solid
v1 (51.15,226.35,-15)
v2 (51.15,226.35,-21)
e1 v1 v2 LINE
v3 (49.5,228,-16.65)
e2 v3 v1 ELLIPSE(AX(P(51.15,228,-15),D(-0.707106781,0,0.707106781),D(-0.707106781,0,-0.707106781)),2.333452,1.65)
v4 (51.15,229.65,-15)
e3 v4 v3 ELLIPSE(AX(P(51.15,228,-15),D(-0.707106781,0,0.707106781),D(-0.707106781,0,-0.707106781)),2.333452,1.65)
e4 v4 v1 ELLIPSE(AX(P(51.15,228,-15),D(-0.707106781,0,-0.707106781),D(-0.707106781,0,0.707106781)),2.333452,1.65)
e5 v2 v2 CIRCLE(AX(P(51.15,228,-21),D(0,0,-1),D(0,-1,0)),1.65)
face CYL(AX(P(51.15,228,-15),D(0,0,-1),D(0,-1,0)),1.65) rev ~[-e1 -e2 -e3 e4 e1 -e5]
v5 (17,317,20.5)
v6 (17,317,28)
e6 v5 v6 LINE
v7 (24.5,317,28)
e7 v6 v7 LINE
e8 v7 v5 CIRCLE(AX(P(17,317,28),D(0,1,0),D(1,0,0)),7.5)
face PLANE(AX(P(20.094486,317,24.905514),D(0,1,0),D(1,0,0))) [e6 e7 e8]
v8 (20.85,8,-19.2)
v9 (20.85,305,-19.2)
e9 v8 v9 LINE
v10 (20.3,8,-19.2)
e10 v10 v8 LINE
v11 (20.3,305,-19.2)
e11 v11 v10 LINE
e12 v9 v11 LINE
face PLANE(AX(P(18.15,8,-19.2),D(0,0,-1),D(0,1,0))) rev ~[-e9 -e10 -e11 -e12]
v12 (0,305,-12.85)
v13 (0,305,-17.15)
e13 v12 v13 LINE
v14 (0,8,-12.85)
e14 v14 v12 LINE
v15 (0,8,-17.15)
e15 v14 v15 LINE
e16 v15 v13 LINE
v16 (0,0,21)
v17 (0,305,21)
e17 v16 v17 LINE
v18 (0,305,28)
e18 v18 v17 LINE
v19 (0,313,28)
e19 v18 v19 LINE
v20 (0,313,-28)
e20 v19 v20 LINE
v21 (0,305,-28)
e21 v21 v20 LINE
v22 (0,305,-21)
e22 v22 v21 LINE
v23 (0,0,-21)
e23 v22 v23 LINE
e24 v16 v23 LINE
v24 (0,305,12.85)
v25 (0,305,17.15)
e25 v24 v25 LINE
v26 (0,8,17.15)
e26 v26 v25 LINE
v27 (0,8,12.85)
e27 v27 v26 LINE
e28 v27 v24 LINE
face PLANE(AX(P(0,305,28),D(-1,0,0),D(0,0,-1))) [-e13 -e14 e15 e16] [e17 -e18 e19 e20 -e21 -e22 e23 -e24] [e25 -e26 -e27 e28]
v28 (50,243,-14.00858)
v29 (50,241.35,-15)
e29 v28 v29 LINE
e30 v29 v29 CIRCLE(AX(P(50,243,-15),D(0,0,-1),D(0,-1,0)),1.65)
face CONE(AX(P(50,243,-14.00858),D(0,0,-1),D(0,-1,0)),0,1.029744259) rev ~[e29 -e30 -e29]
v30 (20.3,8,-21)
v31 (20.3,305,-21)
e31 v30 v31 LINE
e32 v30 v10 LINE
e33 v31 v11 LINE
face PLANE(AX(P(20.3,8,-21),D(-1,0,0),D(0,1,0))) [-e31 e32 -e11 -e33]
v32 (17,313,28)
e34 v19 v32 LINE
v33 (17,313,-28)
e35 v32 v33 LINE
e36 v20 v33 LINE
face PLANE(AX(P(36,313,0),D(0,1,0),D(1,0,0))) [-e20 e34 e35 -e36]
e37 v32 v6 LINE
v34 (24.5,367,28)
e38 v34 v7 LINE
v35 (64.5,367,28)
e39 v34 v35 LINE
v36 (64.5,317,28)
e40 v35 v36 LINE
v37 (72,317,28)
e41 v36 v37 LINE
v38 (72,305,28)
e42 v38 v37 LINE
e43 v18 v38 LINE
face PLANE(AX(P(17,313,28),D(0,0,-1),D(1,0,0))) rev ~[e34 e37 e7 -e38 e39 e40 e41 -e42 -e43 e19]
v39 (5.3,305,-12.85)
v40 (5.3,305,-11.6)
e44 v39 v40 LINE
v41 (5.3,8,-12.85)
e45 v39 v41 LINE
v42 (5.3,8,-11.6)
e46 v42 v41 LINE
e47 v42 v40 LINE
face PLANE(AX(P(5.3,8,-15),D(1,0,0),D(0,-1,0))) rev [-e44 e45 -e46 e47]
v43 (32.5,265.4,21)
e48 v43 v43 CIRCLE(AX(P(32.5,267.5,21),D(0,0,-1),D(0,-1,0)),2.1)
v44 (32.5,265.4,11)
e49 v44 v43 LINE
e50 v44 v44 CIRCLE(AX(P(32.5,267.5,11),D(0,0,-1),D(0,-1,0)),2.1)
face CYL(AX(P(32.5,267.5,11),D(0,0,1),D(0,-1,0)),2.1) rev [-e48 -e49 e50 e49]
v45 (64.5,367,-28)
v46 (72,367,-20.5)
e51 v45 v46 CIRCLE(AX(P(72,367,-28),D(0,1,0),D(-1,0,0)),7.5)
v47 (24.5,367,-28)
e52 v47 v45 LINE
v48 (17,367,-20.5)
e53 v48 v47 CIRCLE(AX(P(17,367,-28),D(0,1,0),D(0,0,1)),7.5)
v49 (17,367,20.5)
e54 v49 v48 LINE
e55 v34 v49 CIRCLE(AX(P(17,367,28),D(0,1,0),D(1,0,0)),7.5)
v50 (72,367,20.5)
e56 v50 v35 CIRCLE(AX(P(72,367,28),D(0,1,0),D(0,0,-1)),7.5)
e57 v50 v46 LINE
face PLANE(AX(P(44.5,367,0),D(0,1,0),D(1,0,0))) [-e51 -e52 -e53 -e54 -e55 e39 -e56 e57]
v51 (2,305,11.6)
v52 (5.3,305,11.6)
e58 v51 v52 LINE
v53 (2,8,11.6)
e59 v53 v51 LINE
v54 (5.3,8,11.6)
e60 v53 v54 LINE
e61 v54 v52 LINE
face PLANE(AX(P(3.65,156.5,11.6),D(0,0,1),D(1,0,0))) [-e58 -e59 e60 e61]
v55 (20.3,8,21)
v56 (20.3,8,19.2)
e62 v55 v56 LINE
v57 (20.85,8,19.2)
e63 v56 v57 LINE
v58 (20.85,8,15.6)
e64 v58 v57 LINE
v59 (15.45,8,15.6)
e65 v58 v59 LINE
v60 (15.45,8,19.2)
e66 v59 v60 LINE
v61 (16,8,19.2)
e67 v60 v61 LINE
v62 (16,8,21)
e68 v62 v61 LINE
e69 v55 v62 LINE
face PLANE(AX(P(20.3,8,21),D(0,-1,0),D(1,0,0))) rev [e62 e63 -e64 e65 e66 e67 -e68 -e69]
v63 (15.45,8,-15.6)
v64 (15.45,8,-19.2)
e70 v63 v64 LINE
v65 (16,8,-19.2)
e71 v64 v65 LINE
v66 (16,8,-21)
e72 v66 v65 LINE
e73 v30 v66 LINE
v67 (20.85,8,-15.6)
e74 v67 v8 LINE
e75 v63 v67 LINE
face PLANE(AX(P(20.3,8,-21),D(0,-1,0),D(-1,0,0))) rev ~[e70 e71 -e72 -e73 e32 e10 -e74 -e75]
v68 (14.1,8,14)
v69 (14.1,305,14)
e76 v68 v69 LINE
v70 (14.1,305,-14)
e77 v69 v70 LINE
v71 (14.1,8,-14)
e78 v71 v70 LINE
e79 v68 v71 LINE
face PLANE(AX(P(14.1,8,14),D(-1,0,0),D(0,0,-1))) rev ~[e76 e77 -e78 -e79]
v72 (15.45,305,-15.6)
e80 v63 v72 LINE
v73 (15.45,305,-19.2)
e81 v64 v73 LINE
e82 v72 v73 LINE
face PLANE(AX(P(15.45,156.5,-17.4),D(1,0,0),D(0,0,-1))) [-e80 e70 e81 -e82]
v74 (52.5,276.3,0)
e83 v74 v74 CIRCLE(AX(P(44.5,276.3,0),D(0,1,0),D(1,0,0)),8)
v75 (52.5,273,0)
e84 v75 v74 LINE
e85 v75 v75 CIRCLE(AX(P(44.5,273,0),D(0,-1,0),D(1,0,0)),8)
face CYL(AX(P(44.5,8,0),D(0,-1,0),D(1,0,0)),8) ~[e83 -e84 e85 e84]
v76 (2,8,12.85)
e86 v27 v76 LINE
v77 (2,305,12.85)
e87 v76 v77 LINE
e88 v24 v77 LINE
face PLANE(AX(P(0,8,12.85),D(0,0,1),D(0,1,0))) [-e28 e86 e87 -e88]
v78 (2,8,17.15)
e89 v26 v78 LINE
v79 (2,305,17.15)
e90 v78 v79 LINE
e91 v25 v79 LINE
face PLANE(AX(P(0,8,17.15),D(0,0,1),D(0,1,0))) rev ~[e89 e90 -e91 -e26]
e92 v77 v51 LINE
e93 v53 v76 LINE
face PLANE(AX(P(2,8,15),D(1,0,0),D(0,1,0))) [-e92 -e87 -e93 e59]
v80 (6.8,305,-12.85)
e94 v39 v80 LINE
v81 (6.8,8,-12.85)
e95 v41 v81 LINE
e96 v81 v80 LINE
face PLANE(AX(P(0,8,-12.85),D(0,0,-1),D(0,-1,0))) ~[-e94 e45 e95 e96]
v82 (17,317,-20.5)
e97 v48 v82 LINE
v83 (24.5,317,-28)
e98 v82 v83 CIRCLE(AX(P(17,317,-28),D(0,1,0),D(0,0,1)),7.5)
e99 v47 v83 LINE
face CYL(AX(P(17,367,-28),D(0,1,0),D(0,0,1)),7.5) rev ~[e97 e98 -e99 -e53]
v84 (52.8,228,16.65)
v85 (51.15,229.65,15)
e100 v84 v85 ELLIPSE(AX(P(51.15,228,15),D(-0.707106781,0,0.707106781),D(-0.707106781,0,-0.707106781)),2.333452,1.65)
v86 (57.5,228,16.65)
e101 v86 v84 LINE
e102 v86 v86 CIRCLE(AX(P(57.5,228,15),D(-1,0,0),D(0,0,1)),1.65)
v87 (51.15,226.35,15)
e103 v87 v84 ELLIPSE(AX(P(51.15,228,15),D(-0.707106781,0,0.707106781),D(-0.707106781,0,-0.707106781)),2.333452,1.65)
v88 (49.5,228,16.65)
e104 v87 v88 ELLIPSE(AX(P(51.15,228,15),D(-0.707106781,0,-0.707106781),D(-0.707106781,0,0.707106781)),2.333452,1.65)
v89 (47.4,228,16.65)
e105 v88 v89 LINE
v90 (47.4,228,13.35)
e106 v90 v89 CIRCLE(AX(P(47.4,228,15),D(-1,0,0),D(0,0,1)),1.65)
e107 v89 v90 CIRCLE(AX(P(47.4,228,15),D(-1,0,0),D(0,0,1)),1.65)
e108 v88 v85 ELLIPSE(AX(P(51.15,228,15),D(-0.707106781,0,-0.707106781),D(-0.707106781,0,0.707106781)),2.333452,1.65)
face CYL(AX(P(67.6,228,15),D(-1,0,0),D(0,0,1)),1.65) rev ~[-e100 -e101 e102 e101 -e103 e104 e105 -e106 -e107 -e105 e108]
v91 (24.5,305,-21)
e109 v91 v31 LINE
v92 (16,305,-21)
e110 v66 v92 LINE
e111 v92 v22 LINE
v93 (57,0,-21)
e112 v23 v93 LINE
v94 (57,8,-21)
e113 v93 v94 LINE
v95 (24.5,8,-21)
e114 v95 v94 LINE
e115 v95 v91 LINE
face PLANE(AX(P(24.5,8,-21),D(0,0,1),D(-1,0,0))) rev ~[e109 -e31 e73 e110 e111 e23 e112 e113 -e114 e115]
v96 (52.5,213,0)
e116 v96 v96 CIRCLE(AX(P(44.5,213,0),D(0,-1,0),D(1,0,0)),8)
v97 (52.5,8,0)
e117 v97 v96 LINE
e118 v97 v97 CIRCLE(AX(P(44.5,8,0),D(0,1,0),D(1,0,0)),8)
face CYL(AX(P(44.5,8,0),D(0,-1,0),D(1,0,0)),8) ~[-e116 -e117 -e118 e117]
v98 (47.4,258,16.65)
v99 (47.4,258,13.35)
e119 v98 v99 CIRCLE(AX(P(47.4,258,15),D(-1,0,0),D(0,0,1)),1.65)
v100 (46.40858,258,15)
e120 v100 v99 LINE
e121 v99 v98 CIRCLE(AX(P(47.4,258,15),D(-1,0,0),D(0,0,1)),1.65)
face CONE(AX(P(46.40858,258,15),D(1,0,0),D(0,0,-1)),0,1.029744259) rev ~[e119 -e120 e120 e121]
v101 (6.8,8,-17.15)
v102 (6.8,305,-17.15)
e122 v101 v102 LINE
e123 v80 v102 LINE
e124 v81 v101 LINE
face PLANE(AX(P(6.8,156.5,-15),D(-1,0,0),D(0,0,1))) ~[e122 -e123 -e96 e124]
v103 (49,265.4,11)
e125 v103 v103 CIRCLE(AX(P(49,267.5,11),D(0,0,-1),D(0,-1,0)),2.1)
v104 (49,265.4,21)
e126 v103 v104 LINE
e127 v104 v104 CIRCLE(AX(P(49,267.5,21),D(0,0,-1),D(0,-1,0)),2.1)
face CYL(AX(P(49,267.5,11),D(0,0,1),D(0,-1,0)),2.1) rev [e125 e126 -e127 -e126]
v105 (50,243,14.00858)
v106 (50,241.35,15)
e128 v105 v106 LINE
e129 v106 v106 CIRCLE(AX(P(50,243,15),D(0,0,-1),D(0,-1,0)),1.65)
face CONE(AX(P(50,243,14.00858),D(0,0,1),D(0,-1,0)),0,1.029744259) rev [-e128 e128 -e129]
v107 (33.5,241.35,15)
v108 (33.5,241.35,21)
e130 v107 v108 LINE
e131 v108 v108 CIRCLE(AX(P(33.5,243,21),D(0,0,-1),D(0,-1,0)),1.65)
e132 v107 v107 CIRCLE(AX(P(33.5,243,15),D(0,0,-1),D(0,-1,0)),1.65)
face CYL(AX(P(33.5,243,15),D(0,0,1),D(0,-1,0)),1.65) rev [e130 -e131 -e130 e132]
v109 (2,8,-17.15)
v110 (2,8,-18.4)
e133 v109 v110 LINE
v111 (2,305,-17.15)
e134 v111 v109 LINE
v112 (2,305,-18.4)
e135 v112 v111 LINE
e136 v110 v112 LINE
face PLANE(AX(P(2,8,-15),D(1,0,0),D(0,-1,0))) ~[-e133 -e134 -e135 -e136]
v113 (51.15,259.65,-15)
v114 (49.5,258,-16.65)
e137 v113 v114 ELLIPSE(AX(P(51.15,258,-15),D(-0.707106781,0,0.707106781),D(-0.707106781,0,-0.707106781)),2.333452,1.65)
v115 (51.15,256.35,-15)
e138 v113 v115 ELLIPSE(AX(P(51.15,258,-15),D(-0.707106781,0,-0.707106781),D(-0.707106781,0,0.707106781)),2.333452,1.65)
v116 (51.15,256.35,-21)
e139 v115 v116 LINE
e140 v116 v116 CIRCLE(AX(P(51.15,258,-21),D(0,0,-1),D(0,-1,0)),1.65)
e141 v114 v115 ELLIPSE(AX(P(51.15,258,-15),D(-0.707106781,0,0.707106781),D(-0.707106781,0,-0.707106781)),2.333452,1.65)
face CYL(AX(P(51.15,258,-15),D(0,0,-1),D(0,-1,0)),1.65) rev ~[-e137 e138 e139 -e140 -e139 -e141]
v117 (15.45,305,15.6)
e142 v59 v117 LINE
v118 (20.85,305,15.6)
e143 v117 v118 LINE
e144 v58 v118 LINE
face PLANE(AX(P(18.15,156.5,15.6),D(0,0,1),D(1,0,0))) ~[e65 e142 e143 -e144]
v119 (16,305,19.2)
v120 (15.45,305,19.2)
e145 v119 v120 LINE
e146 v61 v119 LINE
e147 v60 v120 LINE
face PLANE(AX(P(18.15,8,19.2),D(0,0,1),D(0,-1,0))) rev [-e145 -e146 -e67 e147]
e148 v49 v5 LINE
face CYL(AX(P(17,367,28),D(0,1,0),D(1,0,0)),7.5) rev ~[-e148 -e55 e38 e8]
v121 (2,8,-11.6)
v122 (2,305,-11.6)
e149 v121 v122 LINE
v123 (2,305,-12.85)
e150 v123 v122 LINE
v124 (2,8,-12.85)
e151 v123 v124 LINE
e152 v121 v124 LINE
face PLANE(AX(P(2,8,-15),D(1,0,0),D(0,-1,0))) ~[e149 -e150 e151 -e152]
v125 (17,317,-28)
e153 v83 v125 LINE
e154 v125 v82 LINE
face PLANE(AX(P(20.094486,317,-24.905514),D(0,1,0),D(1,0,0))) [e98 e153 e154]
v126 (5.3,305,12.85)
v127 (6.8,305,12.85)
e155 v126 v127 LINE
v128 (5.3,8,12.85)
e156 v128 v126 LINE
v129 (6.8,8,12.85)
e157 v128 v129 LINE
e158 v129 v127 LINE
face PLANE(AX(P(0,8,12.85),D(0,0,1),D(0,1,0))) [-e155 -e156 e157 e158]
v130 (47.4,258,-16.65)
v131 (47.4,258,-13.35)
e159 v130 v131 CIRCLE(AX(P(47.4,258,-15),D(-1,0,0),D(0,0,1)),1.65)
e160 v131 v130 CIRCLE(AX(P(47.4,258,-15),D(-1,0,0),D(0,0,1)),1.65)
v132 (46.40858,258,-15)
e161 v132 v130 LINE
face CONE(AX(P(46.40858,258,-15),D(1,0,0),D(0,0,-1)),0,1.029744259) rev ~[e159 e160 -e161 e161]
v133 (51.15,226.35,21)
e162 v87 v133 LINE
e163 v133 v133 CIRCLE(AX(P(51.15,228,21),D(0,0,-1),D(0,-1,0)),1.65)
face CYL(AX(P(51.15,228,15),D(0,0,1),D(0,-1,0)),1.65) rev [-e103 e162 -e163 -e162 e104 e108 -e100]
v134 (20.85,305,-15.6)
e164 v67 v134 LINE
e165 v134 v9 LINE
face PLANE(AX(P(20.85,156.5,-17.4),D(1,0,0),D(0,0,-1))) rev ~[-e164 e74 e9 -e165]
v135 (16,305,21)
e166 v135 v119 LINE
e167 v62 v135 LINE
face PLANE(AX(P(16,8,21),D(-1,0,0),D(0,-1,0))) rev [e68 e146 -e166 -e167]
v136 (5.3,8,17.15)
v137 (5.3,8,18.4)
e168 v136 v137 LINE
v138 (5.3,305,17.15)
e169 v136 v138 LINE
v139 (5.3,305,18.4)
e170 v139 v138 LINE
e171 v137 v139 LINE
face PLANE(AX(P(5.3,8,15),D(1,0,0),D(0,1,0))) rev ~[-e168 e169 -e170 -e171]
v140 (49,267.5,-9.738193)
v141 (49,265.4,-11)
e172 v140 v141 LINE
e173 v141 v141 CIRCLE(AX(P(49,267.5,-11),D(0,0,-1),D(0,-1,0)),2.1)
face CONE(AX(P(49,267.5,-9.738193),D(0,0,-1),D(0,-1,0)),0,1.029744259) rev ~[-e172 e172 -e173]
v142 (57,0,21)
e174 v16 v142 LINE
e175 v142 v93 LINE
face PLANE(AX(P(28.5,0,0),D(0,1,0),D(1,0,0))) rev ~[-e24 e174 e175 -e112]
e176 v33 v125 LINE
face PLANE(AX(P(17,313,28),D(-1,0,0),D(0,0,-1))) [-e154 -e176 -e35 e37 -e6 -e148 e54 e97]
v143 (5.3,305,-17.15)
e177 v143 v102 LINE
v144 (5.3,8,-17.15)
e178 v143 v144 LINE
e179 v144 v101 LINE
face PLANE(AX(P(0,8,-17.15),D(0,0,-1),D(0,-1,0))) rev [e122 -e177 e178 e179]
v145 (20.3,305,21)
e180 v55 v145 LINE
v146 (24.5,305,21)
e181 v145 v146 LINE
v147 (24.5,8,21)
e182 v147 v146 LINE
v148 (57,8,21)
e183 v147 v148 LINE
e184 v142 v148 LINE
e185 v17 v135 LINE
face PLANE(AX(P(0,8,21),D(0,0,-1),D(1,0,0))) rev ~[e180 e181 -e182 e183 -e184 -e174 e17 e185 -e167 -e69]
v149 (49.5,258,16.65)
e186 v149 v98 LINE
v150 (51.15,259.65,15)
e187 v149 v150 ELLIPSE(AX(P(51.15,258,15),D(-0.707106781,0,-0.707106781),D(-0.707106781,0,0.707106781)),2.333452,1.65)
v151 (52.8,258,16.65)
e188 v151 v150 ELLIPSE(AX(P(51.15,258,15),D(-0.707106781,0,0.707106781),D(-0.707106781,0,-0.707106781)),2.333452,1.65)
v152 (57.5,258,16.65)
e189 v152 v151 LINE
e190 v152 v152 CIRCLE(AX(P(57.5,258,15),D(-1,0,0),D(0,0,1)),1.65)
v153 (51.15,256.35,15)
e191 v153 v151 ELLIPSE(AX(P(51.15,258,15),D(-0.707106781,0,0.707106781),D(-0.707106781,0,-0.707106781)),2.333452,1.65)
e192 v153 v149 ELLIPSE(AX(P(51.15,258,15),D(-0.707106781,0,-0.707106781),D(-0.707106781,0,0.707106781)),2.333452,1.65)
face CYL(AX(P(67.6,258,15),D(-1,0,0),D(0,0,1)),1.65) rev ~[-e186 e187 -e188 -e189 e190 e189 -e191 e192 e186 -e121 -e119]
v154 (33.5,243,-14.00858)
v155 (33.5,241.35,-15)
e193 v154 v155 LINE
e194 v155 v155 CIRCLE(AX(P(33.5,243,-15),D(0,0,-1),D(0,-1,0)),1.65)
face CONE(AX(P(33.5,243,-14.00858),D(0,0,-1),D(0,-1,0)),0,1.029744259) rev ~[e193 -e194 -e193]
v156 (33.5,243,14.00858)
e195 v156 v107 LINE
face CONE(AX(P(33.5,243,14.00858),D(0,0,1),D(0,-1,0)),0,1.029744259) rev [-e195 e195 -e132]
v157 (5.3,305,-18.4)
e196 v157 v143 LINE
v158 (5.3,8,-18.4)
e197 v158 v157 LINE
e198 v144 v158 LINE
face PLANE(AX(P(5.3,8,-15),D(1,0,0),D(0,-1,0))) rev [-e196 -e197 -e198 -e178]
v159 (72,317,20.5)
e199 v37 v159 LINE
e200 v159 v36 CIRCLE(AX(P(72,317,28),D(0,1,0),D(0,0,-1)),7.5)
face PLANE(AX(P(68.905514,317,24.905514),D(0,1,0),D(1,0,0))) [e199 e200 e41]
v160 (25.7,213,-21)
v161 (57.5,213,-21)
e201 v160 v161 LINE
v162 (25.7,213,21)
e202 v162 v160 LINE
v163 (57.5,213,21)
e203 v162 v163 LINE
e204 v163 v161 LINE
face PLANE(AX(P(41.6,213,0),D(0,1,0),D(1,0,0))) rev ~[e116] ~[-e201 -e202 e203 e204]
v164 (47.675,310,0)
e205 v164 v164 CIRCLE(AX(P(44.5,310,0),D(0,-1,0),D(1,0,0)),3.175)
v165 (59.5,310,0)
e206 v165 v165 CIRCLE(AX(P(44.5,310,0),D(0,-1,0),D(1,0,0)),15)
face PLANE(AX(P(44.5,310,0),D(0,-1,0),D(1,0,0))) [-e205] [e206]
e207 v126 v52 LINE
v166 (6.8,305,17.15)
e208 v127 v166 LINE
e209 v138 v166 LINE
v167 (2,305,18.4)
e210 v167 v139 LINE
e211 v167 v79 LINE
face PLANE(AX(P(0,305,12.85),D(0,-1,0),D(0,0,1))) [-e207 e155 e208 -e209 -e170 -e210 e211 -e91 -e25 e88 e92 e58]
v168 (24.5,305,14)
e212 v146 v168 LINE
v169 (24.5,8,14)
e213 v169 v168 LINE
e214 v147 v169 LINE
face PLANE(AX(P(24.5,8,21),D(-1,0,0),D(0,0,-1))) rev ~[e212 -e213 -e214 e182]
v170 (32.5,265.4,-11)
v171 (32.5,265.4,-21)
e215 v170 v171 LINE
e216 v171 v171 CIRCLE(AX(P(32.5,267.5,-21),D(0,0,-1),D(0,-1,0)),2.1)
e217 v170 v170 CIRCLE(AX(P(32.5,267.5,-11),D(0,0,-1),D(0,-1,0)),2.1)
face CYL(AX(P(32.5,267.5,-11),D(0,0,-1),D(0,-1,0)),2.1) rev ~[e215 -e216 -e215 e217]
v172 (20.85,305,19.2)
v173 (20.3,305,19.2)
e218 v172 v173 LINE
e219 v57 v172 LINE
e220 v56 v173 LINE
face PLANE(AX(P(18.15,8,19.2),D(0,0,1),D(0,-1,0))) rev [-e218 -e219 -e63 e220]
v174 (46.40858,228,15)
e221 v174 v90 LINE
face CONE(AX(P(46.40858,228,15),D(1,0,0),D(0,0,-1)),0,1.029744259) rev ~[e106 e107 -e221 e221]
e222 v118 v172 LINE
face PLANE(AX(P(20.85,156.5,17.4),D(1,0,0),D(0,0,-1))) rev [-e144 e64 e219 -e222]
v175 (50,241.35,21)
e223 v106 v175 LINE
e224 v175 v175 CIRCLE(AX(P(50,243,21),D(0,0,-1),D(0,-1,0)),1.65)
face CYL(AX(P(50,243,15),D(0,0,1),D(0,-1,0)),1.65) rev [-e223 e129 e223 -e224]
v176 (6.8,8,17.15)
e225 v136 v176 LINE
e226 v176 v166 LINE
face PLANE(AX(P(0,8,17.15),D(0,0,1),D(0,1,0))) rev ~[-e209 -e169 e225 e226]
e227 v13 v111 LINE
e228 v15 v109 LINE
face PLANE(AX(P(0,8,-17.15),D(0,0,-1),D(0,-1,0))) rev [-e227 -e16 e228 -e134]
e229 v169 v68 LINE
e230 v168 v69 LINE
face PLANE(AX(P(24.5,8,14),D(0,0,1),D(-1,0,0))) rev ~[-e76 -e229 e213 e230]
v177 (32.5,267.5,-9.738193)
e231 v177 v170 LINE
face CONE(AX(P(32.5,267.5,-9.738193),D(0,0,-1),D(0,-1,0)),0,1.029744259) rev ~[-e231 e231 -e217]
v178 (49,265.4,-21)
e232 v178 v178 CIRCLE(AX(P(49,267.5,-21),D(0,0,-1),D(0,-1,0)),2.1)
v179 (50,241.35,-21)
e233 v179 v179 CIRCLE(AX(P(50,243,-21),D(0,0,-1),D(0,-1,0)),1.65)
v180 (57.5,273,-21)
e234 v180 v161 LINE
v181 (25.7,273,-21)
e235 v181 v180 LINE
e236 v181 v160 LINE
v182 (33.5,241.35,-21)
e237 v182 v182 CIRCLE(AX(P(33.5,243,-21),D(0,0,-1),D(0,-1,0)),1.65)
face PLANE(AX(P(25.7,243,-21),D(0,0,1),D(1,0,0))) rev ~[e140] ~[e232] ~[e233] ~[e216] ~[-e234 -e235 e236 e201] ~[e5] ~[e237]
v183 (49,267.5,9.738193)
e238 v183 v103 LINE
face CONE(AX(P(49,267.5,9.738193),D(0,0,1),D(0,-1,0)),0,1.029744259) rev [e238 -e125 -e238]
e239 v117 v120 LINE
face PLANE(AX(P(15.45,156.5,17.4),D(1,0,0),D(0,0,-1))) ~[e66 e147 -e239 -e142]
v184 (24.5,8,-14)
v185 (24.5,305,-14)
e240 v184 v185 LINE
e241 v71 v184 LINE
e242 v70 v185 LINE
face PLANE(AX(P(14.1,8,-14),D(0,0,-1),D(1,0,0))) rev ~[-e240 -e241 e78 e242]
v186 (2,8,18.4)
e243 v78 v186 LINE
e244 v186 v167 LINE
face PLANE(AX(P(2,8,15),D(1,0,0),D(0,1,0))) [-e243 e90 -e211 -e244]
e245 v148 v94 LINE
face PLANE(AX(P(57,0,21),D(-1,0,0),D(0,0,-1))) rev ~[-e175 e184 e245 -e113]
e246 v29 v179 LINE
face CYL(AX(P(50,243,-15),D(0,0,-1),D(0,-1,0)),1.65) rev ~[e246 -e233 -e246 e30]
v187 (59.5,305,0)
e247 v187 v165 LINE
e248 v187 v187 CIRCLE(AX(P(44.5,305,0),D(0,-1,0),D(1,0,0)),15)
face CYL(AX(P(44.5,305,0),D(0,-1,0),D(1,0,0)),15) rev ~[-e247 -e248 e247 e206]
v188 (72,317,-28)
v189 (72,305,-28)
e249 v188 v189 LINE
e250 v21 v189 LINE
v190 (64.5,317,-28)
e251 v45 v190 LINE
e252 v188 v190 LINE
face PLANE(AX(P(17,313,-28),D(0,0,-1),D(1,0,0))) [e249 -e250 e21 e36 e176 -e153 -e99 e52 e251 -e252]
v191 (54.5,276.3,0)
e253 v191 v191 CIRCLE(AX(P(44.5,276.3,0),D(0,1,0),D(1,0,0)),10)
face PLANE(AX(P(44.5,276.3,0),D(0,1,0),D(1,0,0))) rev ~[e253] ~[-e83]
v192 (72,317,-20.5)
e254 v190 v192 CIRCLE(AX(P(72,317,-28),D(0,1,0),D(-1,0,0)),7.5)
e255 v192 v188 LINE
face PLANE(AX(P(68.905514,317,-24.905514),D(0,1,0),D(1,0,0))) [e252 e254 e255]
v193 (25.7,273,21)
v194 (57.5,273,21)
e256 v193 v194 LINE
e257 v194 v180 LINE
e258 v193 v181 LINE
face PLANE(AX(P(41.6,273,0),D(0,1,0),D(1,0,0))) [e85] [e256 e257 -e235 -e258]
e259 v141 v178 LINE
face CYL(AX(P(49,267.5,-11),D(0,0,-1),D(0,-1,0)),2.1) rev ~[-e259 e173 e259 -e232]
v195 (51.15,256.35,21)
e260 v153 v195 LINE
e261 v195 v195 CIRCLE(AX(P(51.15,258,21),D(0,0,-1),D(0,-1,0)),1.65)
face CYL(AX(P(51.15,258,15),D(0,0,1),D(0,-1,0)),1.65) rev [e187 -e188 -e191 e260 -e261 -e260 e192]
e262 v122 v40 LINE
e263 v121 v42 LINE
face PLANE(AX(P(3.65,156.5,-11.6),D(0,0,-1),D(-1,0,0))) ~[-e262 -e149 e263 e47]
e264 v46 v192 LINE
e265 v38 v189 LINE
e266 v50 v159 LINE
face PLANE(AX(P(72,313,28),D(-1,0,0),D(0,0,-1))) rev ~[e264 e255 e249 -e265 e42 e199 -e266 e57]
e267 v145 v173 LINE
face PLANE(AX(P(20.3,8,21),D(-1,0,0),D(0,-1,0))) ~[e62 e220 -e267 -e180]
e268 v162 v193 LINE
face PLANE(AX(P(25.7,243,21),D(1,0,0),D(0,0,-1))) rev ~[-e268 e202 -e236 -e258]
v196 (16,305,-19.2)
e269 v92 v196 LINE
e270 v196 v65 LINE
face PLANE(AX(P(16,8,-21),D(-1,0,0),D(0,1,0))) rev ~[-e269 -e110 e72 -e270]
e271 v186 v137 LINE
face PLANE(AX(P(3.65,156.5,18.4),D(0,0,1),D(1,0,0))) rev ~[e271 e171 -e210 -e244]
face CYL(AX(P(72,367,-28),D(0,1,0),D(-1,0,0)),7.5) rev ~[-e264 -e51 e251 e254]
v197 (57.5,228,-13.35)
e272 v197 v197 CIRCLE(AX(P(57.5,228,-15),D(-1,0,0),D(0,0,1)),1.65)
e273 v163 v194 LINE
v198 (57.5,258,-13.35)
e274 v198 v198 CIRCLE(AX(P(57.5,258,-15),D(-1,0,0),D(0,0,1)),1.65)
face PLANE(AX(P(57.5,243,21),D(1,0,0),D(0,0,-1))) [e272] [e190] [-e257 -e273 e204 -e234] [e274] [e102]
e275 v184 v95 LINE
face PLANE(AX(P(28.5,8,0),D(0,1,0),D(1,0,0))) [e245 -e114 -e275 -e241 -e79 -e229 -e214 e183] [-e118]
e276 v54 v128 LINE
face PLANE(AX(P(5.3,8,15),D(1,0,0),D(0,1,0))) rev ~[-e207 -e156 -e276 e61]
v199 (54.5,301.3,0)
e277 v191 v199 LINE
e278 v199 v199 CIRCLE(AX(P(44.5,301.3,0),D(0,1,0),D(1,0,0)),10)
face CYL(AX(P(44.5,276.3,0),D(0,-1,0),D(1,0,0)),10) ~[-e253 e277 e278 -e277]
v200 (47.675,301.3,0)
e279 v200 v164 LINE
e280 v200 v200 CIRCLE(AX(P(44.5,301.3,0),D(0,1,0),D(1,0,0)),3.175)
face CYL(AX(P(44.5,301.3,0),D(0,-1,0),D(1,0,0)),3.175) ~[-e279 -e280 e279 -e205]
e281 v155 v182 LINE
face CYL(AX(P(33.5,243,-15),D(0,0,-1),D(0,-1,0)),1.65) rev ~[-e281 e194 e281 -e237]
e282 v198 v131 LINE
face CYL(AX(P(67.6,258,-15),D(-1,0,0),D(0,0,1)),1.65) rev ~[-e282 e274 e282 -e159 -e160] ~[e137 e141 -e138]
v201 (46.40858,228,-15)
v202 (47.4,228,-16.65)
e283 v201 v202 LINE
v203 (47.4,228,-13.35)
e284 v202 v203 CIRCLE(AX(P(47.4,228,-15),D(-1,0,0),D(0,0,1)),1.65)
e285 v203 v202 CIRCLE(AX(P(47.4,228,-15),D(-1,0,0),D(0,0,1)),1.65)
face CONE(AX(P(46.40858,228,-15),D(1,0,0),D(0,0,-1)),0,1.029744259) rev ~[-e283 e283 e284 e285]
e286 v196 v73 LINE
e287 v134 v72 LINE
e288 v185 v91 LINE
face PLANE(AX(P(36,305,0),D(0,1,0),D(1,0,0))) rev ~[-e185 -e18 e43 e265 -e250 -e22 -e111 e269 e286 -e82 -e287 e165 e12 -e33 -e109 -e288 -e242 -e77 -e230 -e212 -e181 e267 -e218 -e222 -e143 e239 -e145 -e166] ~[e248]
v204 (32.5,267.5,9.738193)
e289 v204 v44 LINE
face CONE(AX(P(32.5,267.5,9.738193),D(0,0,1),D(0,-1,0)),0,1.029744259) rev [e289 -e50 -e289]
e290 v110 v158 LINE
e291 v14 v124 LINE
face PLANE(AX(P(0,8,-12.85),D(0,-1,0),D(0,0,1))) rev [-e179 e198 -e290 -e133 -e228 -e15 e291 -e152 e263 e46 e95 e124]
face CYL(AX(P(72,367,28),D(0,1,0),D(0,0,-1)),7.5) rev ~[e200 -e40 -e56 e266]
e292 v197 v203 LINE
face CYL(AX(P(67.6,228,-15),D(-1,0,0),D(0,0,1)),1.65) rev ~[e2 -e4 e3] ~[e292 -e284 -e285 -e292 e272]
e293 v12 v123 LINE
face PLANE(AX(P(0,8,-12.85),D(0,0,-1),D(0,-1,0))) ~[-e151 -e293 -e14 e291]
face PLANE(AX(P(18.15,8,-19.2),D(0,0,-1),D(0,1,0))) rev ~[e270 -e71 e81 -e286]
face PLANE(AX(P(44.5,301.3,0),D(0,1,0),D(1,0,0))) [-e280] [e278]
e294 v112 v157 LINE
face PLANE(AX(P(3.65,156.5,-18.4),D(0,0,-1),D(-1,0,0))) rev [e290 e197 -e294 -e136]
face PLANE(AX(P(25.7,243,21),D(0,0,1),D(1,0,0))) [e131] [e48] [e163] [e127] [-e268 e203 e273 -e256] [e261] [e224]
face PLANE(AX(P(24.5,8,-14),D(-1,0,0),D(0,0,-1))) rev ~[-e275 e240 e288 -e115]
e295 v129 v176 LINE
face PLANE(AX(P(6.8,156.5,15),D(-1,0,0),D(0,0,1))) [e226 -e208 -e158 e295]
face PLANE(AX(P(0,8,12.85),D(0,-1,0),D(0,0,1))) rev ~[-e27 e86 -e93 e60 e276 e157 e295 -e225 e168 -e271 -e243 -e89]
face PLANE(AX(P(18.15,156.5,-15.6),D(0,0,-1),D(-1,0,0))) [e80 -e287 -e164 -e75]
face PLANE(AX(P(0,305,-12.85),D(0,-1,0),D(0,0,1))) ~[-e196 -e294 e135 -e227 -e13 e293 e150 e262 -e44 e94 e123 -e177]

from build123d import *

# Parameters (mm, degrees)
SKETCH1_W                      = 57
SKETCH1_H                      = 42
BOSS_EXTRUDE1_DEPTH            = 8
BOSS_EXTRUDE2_DEPTH            = 297
SKETCH3_W                      = 72
SKETCH3_H                      = 56
BOSS_EXTRUDE3_DEPTH            = 8
SKETCH4_W                      = 55
SKETCH4_H                      = 56
BOSS_EXTRUDE4_DEPTH            = 54
CUT_EXTRUDE1_DEPTH             = 50
SKETCH6_R                      = 8
BOSS_EXTRUDE5_DEPTH            = 268.3
SKETCH7_W                      = 31.8
SKETCH7_H                      = 42
BOSS_EXTRUDE6_DEPTH            = 30
SKETCH8_R                      = 10
BOSS_EXTRUDE7_DEPTH            = 25
SKETCH9_R                      = 15
CUT_EXTRUDE2_DEPTH             = 5
BOSS_EXTRUDE8_REACH            = 67.7
SKETCH10_R                     = 3.175
SKETCH11_W                     = 4.3
SKETCH11_H                     = 297
CUT_EXTRUDE3_DEPTH             = 5.4
SKETCH12_W                     = 3.6
SKETCH12_H                     = 297
CUT_EXTRUDE4_DEPTH             = 2.7
SKETCH13_W                     = 4.3
SKETCH13_H                     = 297
CUT_EXTRUDE5_DEPTH             = 6.8
SKETCH14_W                     = 3.3
SKETCH14_H                     = 297
CUT_EXTRUDE6_DEPTH             = 3.4
M4X0_7_TAPPED_HOLE1_D          = 3.3
M4X0_7_TAPPED_HOLE1_DEPTH      = 10.1
M4X0_7_TAPPED_HOLE1_TIP        = 0.991420021
M4X0_7_TAPPED_HOLE2_AT_2_COUNT = 2
M4X0_7_TAPPED_HOLE2_AT_2_PITCH = 30
M4X0_7_TAPPED_HOLE2_AT_3_COUNT = 2
M4X0_7_TAPPED_HOLE2_AT_3_PITCH = 15.044018745
M4X0_7_TAPPED_HOLE2_AT_4_COUNT = 2
M4X0_7_TAPPED_HOLE2_AT_4_PITCH = 23.162955338
M5X0_8_TAPPED_HOLE1_AT_2_COUNT = 2
M5X0_8_TAPPED_HOLE1_AT_2_PITCH = 16.5


with BuildPart() as part:
    # Sketch1 → Boss-Extrude1 (new body)
    with BuildSketch(Plane(origin=(0, 0, 0), x_dir=(1, 0, 0), z_dir=(0, 1, 0))):
        with Locations((28.5, 0)):
            Rectangle(SKETCH1_W, SKETCH1_H)
    extrude(amount=BOSS_EXTRUDE1_DEPTH)

    # Sketch2 → Boss-Extrude2 (add)
    with BuildSketch(Plane(origin=(0, 8, 0), x_dir=(1, 0, 0), z_dir=(0, 1, 0))):
        Polygon((0, 21), (0, -21), (24.5, -21), (24.5, -14), (14.1, -14), (14.1, 14), (24.5, 14), (24.5, 21), align=None)
    extrude(amount=BOSS_EXTRUDE2_DEPTH)

    # Sketch3 → Boss-Extrude3 (add)
    with BuildSketch(Plane(origin=(0, 305, 0), x_dir=(1, 0, 0), z_dir=(0, 1, 0))):
        with Locations((36, 0)):
            Rectangle(SKETCH3_W, SKETCH3_H)
    extrude(amount=BOSS_EXTRUDE3_DEPTH)

    # Sketch4 → Boss-Extrude4 (add)
    with BuildSketch(Plane(origin=(0, 313, 0), x_dir=(1, 0, 0), z_dir=(0, 1, 0))):
        with Locations((44.5, 0)):
            Rectangle(SKETCH4_W, SKETCH4_H)
    extrude(amount=BOSS_EXTRUDE4_DEPTH)

    # Sketch5 → Cut-Extrude1 (cut)
    with BuildSketch(Plane(origin=(0, 367, 0), x_dir=(1, 0, 0), z_dir=(0, 1, 0))):
        with BuildLine():
            Line((17, 28), (17, 20.5))
            ThreePointArc((17, 20.5), (22.303300859, 22.696699141), (24.5, 28))
            Line((24.5, 28), (17, 28))
        make_face()
        with BuildLine():
            Line((72, 28), (64.5, 28))
            ThreePointArc((64.5, 28), (66.696699141, 22.696699141), (72, 20.5))
            Line((72, 20.5), (72, 28))
        make_face()
        with BuildLine():
            Line((72, -28), (72, -20.5))
            ThreePointArc((72, -20.5), (66.696699141, -22.696699141), (64.5, -28))
            Line((64.5, -28), (72, -28))
        make_face()
        with BuildLine():
            Line((17, -28), (24.5, -28))
            ThreePointArc((24.5, -28), (22.303300859, -22.696699141), (17, -20.5))
            Line((17, -20.5), (17, -28))
        make_face()
    extrude(amount=-CUT_EXTRUDE1_DEPTH, mode=Mode.SUBTRACT)

    # Sketch6 → Boss-Extrude5 (add)
    with BuildSketch(Plane(origin=(0, 8, 0), x_dir=(1, 0, 0), z_dir=(0, 1, 0))):
        with Locations((44.5, 0)):
            Circle(SKETCH6_R)
    extrude(amount=BOSS_EXTRUDE5_DEPTH)

    # Sketch7 → Boss-Extrude6 (add, symmetric)
    with BuildSketch(Plane(origin=(0, 243, 0), x_dir=(1, 0, 0), z_dir=(0, 1, 0))):
        with Locations((41.6, 0)):
            Rectangle(SKETCH7_W, SKETCH7_H)
    extrude(amount=BOSS_EXTRUDE6_DEPTH, both=True)

    # Sketch8 → Boss-Extrude7 (add)
    with BuildSketch(Plane(origin=(0, 276.3, 0), x_dir=(1, 0, 0), z_dir=(0, 1, 0))):
        with Locations((44.5, 0)):
            Circle(SKETCH8_R)
    extrude(amount=BOSS_EXTRUDE7_DEPTH)

    # Sketch9 → Cut-Extrude2 (cut)
    with BuildSketch(Plane.XZ.offset(-305)):
        with Locations((44.5, 0)):
            Circle(SKETCH9_R)
    extrude(amount=-CUT_EXTRUDE2_DEPTH, mode=Mode.SUBTRACT)

    # Sketch10 → Boss-Extrude8 (add, up to next)
    with BuildSketch(Plane(origin=(0, 301.3, 0), x_dir=(1, 0, 0), z_dir=(0, 1, 0)), mode=Mode.PRIVATE) as boss_extrude8_sk1:
        with Locations((44.5, 0)):
            Circle(SKETCH10_R)
    boss_extrude8_tool1 = extrude(boss_extrude8_sk1.sketch, amount=BOSS_EXTRUDE8_REACH, mode=Mode.PRIVATE) - part.part
    add(boss_extrude8_tool1.solids().sort_by_distance((44.5, 301.3, 0))[0])

    # Sketch11 → Cut-Extrude3 (cut)
    with BuildSketch(Plane(origin=(0, 0, -21), x_dir=(-1, 0, 0), z_dir=(0, 0, -1))):
        with Locations((-18.15, 156.5)):
            Rectangle(SKETCH11_W, SKETCH11_H)
    cut_extrude3 = extrude(amount=-CUT_EXTRUDE3_DEPTH, mode=Mode.SUBTRACT)

    # Sketch12 → Cut-Extrude4 (cut, symmetric)
    with BuildSketch(Plane(origin=(18.15, 0, 0), x_dir=(0, 0, -1), z_dir=(1, 0, 0))):
        with Locations((17.4, 156.5)):
            Rectangle(SKETCH12_W, SKETCH12_H)
    cut_extrude4 = extrude(amount=CUT_EXTRUDE4_DEPTH, both=True, mode=Mode.SUBTRACT)

    # Mirror1: Cut-Extrude3, Cut-Extrude4 across plane
    add(cut_extrude3.mirror(Plane.XY), mode=Mode.SUBTRACT)
    add(cut_extrude4.mirror(Plane.XY), mode=Mode.SUBTRACT)

    # Sketch13 → Cut-Extrude5 (cut)
    with BuildSketch(Plane.ZY):
        with Locations((15, 156.5)):
            Rectangle(SKETCH13_W, SKETCH13_H)
    cut_extrude5 = extrude(amount=-CUT_EXTRUDE5_DEPTH, mode=Mode.SUBTRACT)

    # Sketch14 → Cut-Extrude6 (cut, symmetric)
    with BuildSketch(Plane.XY.offset(15)):
        with Locations((3.65, 156.5)):
            Rectangle(SKETCH14_W, SKETCH14_H)
    cut_extrude6 = extrude(amount=CUT_EXTRUDE6_DEPTH, both=True, mode=Mode.SUBTRACT)

    # Mirror2: Cut-Extrude5, Cut-Extrude6 across plane
    add(cut_extrude5.mirror(Plane.XY), mode=Mode.SUBTRACT)
    add(cut_extrude6.mirror(Plane.XY), mode=Mode.SUBTRACT)

    # M4x0.7 Tapped Hole1
    with Locations(Plane(origin=(57.5, 0, 0), x_dir=(0, 0, -1), z_dir=(1, 0, 0))):
        with Locations((-15, 258), (15, 258), (15, 228), (-15, 228)):
            Hole(M4X0_7_TAPPED_HOLE1_D / 2, depth=M4X0_7_TAPPED_HOLE1_DEPTH)
            with Locations((0, 0, -(M4X0_7_TAPPED_HOLE1_DEPTH + M4X0_7_TAPPED_HOLE1_TIP / 2))):  # 118° drill point
                Cone(0, M4X0_7_TAPPED_HOLE1_D / 2, M4X0_7_TAPPED_HOLE1_TIP, mode=Mode.SUBTRACT)

    # Sketch23 → M4x0.7 Tapped Hole2 (revolve, cut)
    with BuildSketch(Plane(origin=(51.15, 228, 21), x_dir=(0, -1, 0), z_dir=(1, 0, 0))):
        Polygon((0, 0), (0, 6.991420021), (1.65, 6), (1.65, 0), align=None)
    m4x0_7_tapped_hole2 = revolve(axis=Axis((51.15, 228, 27.35), (0, 0, -1)), mode=Mode.SUBTRACT)

    # M4x0.7 Tapped Hole2 at 2: M4x0.7 Tapped Hole2 ×2
    with Locations(*[(0, i * M4X0_7_TAPPED_HOLE2_AT_2_PITCH, 0) for i in range(1, M4X0_7_TAPPED_HOLE2_AT_2_COUNT)]):
        add(m4x0_7_tapped_hole2, mode=Mode.SUBTRACT)

    # M4x0.7 Tapped Hole2 at 3: M4x0.7 Tapped Hole2 ×2
    with Locations(*[Vector(-0.07644234, 0.997074004, 0) * (i * M4X0_7_TAPPED_HOLE2_AT_3_PITCH) for i in range(1, M4X0_7_TAPPED_HOLE2_AT_3_COUNT)]):
        add(m4x0_7_tapped_hole2, mode=Mode.SUBTRACT)

    # M4x0.7 Tapped Hole2 at 4: M4x0.7 Tapped Hole2 ×2
    with Locations(*[Vector(-0.761992576, 0.647585758, 0) * (i * M4X0_7_TAPPED_HOLE2_AT_4_PITCH) for i in range(1, M4X0_7_TAPPED_HOLE2_AT_4_COUNT)]):
        add(m4x0_7_tapped_hole2, mode=Mode.SUBTRACT)

    # Sketch25 → M5x0.8 Tapped Hole1 (revolve, cut)
    with BuildSketch(Plane(origin=(32.5, 267.5, 21), x_dir=(0, -1, 0), z_dir=(1, 0, 0))):
        Polygon((0, 0), (0, 11.2618073), (2.1, 10), (2.1, 0), align=None)
    m5x0_8_tapped_hole1 = revolve(axis=Axis((32.5, 267.5, 27.35), (0, 0, -1)), mode=Mode.SUBTRACT)

    # M5x0.8 Tapped Hole1 at 2: M5x0.8 Tapped Hole1 ×2
    with Locations(*[(i * M5X0_8_TAPPED_HOLE1_AT_2_PITCH, 0, 0) for i in range(1, M5X0_8_TAPPED_HOLE1_AT_2_COUNT)]):
        add(m5x0_8_tapped_hole1, mode=Mode.SUBTRACT)

    # Mirror3: M5x0.8 Tapped Hole1, M4x0.7 Tapped Hole2 across plane
    add(m5x0_8_tapped_hole1.mirror(Plane.XY), mode=Mode.SUBTRACT)
    add(m4x0_7_tapped_hole2.mirror(Plane.XY), mode=Mode.SUBTRACT)

    # Mirror3 copy 1 sketch → Mirror3 copy 1 (revolve, cut)
    with BuildSketch(Plane(origin=(49, 267.5, -21), x_dir=(0, -1, 0), z_dir=(1, 0, 0))):
        Polygon((0, 0), (0, -11.2618073), (2.1, -10), (2.1, 0), align=None)
    revolve(axis=Axis((49, 267.5, -27.35), (0, 0, -1)), mode=Mode.SUBTRACT)

    # Mirror3 copy 2 sketch → Mirror3 copy 2 (revolve, cut)
    with BuildSketch(Plane(origin=(51.15, 258, -21), x_dir=(0, -1, 0), z_dir=(1, 0, 0))):
        Polygon((0, 0), (0, -6.991420021), (1.65, -6), (1.65, 0), align=None)
    revolve(axis=Axis((51.15, 258, -27.35), (0, 0, -1)), mode=Mode.SUBTRACT)

    # Mirror3 copy 3 sketch → Mirror3 copy 3 (revolve, cut)
    with BuildSketch(Plane(origin=(50, 243, -21), x_dir=(0, -1, 0), z_dir=(1, 0, 0))):
        Polygon((0, 0), (0, -6.991420021), (1.65, -6), (1.65, 0), align=None)
    revolve(axis=Axis((50, 243, -27.35), (0, 0, -1)), mode=Mode.SUBTRACT)

    # Mirror3 copy 4 sketch → Mirror3 copy 4 (revolve, cut)
    with BuildSketch(Plane(origin=(33.5, 243, -21), x_dir=(0, -1, 0), z_dir=(1, 0, 0))):
        Polygon((0, 0), (0, -6.991420021), (1.65, -6), (1.65, 0), align=None)
    revolve(axis=Axis((33.5, 243, -27.35), (0, 0, -1)), mode=Mode.SUBTRACT)


solid = part.part
